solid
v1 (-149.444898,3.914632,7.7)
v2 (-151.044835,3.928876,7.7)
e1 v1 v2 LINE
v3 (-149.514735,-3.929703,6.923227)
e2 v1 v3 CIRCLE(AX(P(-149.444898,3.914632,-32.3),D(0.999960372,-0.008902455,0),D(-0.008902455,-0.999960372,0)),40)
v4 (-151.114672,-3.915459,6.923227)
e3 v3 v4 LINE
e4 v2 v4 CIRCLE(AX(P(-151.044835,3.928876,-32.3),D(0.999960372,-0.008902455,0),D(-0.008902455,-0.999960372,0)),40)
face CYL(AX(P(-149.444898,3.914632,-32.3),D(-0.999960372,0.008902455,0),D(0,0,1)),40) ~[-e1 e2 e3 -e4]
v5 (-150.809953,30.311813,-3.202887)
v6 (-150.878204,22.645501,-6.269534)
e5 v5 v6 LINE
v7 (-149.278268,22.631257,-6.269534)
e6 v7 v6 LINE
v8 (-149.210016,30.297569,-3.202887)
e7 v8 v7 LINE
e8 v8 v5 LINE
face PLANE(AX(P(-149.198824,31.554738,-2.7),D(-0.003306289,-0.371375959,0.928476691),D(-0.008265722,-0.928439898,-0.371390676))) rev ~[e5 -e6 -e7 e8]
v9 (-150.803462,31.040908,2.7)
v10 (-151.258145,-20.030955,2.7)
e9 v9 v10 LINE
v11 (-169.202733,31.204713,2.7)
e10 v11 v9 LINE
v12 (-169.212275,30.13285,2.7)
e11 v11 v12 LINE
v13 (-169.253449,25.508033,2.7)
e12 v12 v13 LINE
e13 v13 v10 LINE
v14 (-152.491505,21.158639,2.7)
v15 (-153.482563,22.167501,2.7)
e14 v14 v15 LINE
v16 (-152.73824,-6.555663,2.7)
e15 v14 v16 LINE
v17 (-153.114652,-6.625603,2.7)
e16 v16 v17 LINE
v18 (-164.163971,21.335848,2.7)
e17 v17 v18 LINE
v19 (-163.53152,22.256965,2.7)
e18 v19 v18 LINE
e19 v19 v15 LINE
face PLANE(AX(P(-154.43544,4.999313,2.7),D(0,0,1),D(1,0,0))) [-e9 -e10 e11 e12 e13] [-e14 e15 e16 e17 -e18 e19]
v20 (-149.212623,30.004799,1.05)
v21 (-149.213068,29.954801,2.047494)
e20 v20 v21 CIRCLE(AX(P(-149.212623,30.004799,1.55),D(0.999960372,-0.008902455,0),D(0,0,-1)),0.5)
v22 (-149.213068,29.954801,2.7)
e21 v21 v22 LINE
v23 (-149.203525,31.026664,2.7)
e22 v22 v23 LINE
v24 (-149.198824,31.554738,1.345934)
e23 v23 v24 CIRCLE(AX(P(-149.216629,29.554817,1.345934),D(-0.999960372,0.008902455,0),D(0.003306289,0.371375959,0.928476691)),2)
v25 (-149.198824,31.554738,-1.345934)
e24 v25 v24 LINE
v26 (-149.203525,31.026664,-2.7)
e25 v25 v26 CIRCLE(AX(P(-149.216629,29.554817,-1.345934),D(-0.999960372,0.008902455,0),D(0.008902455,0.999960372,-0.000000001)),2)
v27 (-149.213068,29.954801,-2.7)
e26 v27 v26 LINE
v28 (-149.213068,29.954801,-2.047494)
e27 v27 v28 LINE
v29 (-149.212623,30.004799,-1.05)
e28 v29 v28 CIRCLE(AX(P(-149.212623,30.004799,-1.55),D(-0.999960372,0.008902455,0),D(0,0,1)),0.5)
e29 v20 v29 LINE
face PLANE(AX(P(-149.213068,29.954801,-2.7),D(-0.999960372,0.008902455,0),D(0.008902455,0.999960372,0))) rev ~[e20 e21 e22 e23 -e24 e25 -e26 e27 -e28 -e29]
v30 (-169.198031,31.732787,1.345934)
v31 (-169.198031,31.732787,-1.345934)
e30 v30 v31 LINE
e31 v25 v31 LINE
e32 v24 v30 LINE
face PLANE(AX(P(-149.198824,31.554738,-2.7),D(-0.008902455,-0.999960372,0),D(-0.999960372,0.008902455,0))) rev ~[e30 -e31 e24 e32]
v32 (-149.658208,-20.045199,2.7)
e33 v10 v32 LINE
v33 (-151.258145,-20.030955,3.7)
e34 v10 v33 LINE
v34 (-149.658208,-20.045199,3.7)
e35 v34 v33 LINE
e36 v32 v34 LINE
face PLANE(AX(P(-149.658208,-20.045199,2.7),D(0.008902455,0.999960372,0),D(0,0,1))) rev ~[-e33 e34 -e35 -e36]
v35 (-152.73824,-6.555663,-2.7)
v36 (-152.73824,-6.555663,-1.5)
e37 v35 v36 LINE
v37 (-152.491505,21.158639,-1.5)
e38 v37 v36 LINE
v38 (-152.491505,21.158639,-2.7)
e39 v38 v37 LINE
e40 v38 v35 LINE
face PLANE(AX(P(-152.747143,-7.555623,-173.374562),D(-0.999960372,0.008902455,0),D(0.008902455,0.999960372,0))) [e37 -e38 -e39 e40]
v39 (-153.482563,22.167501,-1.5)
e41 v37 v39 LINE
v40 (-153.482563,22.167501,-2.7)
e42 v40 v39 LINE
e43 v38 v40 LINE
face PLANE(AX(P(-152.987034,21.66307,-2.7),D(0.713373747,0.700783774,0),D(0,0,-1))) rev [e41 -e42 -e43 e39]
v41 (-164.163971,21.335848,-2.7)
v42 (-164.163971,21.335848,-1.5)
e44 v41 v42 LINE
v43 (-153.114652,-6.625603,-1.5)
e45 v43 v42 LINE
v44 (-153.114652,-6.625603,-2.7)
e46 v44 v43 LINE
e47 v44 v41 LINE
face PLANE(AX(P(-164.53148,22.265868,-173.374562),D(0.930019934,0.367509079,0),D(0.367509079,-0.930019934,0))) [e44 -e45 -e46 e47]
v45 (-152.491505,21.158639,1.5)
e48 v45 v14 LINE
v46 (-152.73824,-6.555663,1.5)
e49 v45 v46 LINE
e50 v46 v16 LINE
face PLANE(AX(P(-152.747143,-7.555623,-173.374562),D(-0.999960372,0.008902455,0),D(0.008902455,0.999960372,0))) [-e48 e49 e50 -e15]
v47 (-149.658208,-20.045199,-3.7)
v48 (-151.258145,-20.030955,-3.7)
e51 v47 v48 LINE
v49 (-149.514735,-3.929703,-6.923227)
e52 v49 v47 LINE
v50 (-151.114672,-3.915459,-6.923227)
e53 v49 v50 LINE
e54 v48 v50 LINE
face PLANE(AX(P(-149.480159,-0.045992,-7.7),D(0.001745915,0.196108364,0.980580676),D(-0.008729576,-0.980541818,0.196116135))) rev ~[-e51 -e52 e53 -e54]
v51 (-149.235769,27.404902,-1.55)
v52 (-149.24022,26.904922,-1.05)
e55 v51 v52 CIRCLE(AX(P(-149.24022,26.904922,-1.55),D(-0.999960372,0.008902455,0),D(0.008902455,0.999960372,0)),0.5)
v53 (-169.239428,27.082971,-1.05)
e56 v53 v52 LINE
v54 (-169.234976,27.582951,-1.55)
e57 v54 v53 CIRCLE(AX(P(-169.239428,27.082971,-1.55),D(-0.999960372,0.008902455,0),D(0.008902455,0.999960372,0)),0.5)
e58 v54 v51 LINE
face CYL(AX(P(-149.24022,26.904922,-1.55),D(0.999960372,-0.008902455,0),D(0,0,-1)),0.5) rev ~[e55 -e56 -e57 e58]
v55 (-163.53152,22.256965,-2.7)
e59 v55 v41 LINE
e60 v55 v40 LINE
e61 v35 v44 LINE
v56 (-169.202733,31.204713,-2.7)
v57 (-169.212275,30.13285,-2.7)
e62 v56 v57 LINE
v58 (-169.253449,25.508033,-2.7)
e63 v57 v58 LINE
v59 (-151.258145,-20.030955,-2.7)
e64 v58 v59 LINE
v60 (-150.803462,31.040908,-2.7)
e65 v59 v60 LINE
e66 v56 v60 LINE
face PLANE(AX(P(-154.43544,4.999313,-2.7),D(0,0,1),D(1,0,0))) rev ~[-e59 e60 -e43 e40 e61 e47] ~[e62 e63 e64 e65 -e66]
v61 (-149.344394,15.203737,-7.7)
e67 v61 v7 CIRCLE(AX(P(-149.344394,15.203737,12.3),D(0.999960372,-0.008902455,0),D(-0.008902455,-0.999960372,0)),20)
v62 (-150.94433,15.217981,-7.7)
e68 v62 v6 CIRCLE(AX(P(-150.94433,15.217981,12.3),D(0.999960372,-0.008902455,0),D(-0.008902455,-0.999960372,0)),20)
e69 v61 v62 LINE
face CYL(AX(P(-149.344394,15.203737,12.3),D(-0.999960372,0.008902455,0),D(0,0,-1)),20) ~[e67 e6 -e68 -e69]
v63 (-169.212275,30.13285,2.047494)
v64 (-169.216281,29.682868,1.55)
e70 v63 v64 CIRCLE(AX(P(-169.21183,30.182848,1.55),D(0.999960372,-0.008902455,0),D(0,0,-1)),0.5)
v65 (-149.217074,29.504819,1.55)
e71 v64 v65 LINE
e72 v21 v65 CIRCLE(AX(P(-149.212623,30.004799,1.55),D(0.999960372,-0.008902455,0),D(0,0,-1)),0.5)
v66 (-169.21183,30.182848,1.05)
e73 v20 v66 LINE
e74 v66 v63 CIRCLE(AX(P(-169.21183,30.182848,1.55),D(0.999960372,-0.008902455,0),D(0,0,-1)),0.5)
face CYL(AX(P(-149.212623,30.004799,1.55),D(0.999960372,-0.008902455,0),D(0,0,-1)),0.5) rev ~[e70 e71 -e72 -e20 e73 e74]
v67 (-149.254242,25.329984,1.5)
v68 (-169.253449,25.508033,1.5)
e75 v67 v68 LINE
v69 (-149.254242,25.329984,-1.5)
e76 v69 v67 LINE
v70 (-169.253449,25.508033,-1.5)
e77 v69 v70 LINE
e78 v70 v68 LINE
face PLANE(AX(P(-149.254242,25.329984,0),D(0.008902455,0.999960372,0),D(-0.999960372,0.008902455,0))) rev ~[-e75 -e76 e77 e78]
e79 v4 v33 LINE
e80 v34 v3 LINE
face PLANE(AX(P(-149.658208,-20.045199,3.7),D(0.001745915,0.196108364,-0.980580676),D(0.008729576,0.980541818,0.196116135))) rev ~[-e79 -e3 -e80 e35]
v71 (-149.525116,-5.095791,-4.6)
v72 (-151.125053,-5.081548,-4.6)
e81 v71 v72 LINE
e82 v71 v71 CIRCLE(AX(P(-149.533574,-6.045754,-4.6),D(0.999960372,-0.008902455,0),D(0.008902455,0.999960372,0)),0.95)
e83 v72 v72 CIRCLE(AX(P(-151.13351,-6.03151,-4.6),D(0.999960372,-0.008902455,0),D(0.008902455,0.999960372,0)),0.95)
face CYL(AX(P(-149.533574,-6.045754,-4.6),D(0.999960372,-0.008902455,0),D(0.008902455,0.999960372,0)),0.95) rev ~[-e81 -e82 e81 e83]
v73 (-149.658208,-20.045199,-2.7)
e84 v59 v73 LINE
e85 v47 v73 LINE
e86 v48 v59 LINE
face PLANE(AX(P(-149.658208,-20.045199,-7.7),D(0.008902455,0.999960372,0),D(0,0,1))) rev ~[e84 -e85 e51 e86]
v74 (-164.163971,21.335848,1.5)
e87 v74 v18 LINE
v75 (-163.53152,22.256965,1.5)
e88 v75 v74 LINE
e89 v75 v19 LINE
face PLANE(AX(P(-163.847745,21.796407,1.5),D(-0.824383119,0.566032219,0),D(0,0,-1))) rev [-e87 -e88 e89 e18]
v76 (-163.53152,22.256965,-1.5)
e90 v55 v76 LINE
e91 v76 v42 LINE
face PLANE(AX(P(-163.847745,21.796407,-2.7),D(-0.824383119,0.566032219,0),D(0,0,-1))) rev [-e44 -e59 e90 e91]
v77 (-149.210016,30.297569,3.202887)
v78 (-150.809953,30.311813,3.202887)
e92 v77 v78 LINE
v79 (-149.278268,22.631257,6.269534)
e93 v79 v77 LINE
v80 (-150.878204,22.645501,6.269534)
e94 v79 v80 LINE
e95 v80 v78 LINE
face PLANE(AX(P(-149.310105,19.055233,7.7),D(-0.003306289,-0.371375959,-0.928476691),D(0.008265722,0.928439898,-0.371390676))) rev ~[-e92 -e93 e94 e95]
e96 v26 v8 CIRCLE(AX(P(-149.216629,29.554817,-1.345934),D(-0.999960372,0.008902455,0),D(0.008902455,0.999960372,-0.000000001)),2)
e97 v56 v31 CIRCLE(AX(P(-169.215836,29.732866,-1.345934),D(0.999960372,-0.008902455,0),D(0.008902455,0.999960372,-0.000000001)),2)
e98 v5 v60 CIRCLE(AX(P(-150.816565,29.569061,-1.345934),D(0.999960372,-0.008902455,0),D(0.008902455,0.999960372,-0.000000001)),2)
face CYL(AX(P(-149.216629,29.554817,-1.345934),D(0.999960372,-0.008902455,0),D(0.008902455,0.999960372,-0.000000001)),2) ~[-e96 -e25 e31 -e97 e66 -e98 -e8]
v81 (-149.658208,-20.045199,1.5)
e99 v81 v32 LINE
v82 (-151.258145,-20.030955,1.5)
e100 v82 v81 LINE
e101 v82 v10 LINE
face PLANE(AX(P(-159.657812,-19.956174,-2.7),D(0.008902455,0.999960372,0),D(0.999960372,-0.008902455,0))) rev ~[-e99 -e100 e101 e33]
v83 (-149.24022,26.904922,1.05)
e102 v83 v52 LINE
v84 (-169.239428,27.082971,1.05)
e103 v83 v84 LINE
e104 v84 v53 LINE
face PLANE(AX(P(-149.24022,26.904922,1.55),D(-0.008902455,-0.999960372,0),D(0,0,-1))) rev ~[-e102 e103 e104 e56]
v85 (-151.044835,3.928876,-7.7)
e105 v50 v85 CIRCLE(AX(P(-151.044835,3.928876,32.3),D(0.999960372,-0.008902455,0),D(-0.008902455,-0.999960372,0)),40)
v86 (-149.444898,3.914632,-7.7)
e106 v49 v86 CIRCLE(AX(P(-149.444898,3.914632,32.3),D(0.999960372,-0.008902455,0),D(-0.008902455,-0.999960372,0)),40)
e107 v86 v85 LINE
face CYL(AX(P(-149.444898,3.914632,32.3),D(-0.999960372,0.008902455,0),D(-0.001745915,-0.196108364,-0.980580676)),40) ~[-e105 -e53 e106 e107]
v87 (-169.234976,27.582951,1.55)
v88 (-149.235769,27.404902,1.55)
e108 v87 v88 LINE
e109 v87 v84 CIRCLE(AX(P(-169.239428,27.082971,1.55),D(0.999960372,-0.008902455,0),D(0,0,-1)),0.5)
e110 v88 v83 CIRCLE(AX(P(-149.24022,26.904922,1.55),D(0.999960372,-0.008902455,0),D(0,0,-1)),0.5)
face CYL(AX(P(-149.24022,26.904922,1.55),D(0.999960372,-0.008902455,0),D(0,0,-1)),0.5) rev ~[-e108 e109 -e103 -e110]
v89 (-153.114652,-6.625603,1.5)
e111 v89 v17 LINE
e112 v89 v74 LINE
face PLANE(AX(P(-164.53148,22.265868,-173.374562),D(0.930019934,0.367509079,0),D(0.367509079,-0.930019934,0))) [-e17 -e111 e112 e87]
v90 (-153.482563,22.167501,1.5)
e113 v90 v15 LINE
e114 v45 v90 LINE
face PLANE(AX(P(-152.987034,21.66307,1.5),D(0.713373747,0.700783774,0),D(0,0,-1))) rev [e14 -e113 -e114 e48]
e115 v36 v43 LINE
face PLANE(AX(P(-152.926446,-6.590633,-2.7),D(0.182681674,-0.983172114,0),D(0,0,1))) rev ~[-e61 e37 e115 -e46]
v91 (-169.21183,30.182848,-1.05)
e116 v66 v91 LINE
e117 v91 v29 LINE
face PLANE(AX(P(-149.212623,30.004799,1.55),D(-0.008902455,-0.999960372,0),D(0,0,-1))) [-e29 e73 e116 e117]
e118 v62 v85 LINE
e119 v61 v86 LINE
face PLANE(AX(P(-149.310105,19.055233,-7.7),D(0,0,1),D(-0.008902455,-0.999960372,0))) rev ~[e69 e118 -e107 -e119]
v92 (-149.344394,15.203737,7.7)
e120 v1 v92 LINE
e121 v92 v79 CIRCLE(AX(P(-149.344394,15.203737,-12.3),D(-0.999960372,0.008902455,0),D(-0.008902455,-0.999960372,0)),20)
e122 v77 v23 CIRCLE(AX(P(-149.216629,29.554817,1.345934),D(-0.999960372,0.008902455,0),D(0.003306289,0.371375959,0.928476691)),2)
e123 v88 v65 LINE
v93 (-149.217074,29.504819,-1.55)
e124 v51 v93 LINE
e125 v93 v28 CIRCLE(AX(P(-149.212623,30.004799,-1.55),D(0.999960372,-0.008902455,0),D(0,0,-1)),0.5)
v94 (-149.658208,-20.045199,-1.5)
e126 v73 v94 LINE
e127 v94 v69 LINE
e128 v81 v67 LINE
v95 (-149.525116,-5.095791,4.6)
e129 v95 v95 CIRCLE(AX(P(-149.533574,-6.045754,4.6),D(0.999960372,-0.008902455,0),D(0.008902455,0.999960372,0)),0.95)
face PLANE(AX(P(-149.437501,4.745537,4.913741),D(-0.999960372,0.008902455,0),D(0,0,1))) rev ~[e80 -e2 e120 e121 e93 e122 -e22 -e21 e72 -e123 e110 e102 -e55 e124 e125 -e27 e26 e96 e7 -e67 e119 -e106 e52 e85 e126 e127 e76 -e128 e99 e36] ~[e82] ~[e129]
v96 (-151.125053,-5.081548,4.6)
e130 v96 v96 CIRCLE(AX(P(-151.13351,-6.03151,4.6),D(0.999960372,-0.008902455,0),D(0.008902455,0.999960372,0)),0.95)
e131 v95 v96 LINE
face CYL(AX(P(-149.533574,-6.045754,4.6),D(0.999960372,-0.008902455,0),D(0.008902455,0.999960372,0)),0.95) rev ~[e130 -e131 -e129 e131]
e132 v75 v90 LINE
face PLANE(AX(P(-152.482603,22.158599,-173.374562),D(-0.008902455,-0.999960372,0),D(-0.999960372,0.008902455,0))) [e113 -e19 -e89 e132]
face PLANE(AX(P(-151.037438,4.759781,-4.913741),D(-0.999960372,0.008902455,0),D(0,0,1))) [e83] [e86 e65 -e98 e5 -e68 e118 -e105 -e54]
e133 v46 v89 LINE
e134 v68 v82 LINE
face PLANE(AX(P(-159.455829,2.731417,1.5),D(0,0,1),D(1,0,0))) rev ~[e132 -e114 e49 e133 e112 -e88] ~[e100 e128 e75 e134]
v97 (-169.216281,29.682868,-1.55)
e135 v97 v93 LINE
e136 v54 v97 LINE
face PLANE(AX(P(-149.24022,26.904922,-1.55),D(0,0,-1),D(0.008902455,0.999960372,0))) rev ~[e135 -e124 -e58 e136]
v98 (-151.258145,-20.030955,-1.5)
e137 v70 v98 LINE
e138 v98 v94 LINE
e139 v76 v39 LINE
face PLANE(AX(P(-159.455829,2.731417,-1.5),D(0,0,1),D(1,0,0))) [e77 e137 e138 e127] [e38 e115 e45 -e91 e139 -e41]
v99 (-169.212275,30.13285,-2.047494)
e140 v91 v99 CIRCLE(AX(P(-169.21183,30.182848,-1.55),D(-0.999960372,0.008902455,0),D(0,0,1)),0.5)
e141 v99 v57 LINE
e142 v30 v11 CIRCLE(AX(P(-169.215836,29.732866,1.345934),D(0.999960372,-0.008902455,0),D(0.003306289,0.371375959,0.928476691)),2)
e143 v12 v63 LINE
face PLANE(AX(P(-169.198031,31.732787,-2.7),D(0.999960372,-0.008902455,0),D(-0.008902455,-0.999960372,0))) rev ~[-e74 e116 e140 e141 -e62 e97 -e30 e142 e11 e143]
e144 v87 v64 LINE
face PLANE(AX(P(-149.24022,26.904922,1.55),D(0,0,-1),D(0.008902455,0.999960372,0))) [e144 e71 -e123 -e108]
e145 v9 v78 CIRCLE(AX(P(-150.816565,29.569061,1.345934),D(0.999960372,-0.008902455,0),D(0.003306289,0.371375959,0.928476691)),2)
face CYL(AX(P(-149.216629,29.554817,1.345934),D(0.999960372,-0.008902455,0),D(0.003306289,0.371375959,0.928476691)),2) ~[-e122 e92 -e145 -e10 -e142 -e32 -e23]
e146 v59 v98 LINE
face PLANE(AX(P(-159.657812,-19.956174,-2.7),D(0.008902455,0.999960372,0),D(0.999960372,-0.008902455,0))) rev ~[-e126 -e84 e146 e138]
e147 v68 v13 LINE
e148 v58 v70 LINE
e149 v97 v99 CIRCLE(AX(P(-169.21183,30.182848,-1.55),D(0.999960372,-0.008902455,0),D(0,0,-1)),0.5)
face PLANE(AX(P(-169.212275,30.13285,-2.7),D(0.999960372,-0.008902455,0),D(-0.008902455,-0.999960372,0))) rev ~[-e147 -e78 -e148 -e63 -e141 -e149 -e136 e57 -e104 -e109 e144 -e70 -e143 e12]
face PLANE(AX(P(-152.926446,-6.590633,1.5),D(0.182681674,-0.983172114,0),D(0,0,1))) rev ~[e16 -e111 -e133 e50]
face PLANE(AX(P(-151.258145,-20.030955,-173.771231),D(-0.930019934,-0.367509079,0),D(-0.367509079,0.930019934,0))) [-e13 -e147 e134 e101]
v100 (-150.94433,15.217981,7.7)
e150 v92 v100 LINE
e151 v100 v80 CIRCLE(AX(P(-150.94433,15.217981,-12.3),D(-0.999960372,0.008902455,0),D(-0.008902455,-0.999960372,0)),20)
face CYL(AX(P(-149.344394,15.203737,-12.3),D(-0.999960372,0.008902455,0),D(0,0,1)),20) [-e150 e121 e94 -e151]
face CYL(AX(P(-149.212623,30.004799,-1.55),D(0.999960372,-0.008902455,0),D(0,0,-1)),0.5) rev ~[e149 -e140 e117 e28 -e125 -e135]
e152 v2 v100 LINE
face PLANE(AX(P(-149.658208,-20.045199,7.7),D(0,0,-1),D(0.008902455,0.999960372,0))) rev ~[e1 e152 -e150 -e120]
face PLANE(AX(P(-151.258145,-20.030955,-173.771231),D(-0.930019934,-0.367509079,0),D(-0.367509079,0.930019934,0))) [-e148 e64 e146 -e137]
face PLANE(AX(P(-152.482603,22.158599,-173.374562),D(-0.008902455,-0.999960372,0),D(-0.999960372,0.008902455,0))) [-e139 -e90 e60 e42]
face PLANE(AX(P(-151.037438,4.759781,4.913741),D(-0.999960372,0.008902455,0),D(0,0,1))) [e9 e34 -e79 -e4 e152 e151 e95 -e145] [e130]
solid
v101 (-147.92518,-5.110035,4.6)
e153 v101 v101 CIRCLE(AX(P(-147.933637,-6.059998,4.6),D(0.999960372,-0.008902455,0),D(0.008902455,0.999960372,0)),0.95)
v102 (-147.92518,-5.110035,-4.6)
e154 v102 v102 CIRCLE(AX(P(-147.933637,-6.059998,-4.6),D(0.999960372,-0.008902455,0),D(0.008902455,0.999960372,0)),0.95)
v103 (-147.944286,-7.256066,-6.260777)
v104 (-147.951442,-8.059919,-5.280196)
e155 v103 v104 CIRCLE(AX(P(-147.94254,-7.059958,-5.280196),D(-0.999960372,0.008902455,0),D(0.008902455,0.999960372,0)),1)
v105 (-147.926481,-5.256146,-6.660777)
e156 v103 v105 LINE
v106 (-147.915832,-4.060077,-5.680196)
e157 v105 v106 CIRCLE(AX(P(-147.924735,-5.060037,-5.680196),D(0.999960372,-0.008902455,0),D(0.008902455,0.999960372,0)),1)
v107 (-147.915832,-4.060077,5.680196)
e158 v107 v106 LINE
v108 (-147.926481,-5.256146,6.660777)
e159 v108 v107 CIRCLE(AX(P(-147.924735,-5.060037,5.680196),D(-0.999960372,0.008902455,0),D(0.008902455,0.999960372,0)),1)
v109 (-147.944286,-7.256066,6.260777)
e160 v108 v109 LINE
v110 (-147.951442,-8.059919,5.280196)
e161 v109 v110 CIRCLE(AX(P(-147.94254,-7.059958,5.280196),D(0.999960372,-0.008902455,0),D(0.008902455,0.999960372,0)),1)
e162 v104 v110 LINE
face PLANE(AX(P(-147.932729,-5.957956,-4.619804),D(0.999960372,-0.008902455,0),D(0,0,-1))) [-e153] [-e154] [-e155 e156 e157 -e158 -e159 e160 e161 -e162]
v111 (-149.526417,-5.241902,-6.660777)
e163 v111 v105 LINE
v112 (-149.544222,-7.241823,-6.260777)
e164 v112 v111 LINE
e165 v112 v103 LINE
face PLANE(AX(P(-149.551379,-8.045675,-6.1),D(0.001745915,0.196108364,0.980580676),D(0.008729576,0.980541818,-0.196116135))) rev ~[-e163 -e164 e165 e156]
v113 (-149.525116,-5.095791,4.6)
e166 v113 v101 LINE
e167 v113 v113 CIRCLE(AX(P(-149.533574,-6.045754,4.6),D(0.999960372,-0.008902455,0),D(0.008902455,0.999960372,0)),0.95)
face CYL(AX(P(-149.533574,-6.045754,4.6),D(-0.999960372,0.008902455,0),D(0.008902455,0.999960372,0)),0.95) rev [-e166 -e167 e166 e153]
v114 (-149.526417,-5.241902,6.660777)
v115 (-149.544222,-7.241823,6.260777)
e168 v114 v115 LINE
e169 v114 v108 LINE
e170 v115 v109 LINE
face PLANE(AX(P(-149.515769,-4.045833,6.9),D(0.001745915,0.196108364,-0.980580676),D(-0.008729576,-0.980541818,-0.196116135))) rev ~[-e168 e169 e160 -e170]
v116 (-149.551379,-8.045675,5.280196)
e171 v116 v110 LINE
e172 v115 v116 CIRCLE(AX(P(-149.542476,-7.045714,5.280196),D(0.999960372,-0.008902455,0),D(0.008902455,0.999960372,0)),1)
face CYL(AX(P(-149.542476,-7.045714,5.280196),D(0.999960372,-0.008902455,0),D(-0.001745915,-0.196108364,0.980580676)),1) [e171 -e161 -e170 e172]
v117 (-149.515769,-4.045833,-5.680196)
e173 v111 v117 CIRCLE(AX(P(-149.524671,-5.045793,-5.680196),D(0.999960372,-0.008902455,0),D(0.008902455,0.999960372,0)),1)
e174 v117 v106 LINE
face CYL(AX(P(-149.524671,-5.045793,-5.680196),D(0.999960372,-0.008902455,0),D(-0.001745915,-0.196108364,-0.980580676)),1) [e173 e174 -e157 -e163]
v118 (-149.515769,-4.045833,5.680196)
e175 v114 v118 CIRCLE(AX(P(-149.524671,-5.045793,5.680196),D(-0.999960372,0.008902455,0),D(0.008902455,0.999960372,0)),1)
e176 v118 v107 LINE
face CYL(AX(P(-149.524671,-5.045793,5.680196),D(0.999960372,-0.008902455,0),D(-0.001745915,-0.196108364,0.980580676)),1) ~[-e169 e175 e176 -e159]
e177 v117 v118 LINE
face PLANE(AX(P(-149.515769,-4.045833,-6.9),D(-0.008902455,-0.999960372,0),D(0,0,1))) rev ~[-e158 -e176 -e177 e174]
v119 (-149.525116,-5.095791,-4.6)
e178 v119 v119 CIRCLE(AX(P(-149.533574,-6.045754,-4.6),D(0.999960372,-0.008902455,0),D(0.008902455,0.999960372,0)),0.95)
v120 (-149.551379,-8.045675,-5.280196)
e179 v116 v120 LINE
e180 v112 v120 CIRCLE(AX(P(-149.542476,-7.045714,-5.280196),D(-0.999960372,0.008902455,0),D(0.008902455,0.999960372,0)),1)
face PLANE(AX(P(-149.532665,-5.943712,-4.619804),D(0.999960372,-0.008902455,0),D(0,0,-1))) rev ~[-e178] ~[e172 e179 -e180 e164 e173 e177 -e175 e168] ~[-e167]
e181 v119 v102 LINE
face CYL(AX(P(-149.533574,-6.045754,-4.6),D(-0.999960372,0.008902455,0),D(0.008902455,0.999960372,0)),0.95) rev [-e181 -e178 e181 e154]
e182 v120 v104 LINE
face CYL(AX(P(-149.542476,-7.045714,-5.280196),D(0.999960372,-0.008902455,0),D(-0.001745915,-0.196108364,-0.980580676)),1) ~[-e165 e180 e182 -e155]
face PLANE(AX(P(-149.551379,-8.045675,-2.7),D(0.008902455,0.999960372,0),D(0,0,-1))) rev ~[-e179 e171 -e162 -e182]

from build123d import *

# Parameters (mm, degrees)
BOSS_EXTRUDE1_DEPTH      = 1.5
BOSS_EXTRUDE2_DEPTH      = 2.7
BOSS_EXTRUDE2_DEPTH_BACK = 2.7
CUT_EXTRUDE1_DEPTH       = 1.5
BOSS_EXTRUDE3_DEPTH      = 1.6
CUT_EXTRUDE2_DEPTH       = 173.771231485
CUT_EXTRUDE2_DEPTH_BACK  = 173.771231485
CUT_EXTRUDE3_DEPTH       = 1.5
SKETCH9_W                = 3.1
SKETCH9_H                = 3.1
SKETCH9_W_2              = 3
SKETCH9_H_2              = 3
CUT_EXTRUDE4_DEPTH       = 38.081608425
SKETCH10_R               = 0.5
CUT_EXTRUDE5_DEPTH       = 38.081608425
CUT_EXTRUDE6_DEPTH       = 38.081608425
FILLET1_R                = 20
CUT_EXTRUDE7_DEPTH       = 38.081608425
FILLET2_R                = 40
SKETCH14_R               = 0.95
SKETCH14_W               = 1.2
SKETCH14_H               = 4
SKETCH14_W_2             = 3
BOSS_EXTRUDE4_DEPTH      = 1.6
SKETCH15_R               = 0.95
CUT_EXTRUDE8_DEPTH       = 38.081608425
FILLET3_R                = 1
CUT_EXTRUDE9_DEPTH       = 173.374562434
CUT_EXTRUDE9_DEPTH_BACK  = 173.374562434
CHAMFER1_SIZE            = 1


with BuildPart() as part:
    # Sketch3 → Boss-Extrude1 (new, symmetric)
    with BuildSketch(Plane.XY):
        Polygon((-149.213067775, 29.954800958), (-159.212671499, 30.043825512), (-159.65781191, -19.956174488), (-149.658208186, -20.045199042), align=None)
        Polygon((-159.65781191, -19.956174488), (-159.212671499, 30.043825512), (-169.212275222, 30.132850067), (-169.657415633, -19.867149933), align=None)
        Polygon((-149.198823847, 31.554737554), (-169.198031294, 31.732786662), (-169.212275222, 30.132850067), (-149.213067775, 29.954800958), align=None)
    extrude(amount=BOSS_EXTRUDE1_DEPTH, both=True)

    # Sketch4 → Boss-Extrude2 (add, two sides: drawn at the far end of the back side and taken through both)
    with BuildSketch(Plane.XY.offset(-BOSS_EXTRUDE2_DEPTH_BACK)):
        Polygon((-149.213067775, 29.954800958), (-159.212671499, 30.043825512), (-159.65781191, -19.956174488), (-149.658208186, -20.045199042), align=None)
        Polygon((-159.212671499, 30.043825512), (-169.212275222, 30.132850067), (-169.657415633, -19.867149933), (-159.65781191, -19.956174488), align=None)
        Polygon((-149.198823847, 31.554737554), (-169.198031294, 31.732786662), (-169.212275222, 30.132850067), (-149.213067775, 29.954800958), align=None)
    extrude(amount=BOSS_EXTRUDE2_DEPTH + BOSS_EXTRUDE2_DEPTH_BACK)

    # Sketch5 → Cut-Extrude1 (cut, symmetric)
    with BuildSketch(Plane.XY):
        Polygon((-149.658208186, -20.045199042), (-149.254241632, 25.329984236), (-169.253449079, 25.508033344), (-169.657415633, -19.867149933), align=None)
    extrude(amount=CUT_EXTRUDE1_DEPTH, both=True, mode=Mode.SUBTRACT)

    # Sketch6 → Boss-Extrude3 (add)
    with BuildSketch(Plane(origin=(-149.467902798, 1.330684074, 0), x_dir=(0, 0, -1), z_dir=(0.999960372358546, -0.00890245542299091, 0))):
        Polygon((-2.7, 30.225251236), (-2.7, -21.376730225), (-7.7, -21.376730225), (-7.7, 17.725251236), align=None)
        Polygon((2.7, -21.376730225), (2.7, 30.225251236), (7.7, 17.725251236), (7.7, -21.376730225), align=None)
    extrude(amount=-BOSS_EXTRUDE3_DEPTH)

    # Sketch7 → Cut-Extrude2 (cut, two sides: drawn at the far end of the back side and taken through both)
    with BuildSketch(Plane.XY.offset(-CUT_EXTRUDE2_DEPTH_BACK)):
        Polygon((-151.258144782, -20.030955113), (-169.253449079, 25.508033344), (-169.657415633, -19.867149933), align=None)
    extrude(amount=CUT_EXTRUDE2_DEPTH + CUT_EXTRUDE2_DEPTH_BACK, mode=Mode.SUBTRACT)

    # Sketch8 → Cut-Extrude3 (cut, symmetric)
    with BuildSketch(Plane.XY):
        Polygon((-371.727094297, 31.935800663), (-371.753801663, 28.935919545), (-39.244134182, 25.975649744), (-39.217426816, 28.975530862), align=None)
    extrude(amount=CUT_EXTRUDE3_DEPTH, both=True, mode=Mode.SUBTRACT)

    # Sketch9 → Cut-Extrude4 (cut, through all)
    with BuildSketch(Plane(origin=(-149.467902798, 1.330684074, 0), x_dir=(0, 0, -1), z_dir=(0.999960372358546, -0.00890245542299091, 0))):
        with Locations((0, 27.125251236)):
            Rectangle(SKETCH9_W, SKETCH9_H)
        with Locations((0, 27.125251236)):
            Rectangle(SKETCH9_W_2, SKETCH9_H_2, mode=Mode.SUBTRACT)
    extrude(amount=-CUT_EXTRUDE4_DEPTH, mode=Mode.SUBTRACT)

    # Sketch10 → Cut-Extrude5 (cut, through all)
    with BuildSketch(Plane(origin=(-149.467902798, 1.330684074, 0), x_dir=(0, 0, -1), z_dir=(0.999960372358546, -0.00890245542299091, 0))):
        with Locations((-1.55, 25.575251236)):
            Circle(SKETCH10_R)
        with Locations((1.55, 25.575251236)):
            Circle(SKETCH10_R)
        with Locations((-1.55, 28.675251236)):
            Circle(SKETCH10_R)
        with Locations((1.55, 28.675251236)):
            Circle(SKETCH10_R)
    extrude(amount=-CUT_EXTRUDE5_DEPTH, mode=Mode.SUBTRACT)

    # Sketch12 → Cut-Extrude6 (cut, through all)
    with BuildSketch(Plane(origin=(-149.467902798, 1.330684074, 0), x_dir=(0, 0, -1), z_dir=(0.999960372358546, -0.00890245542299091, 0))):
        with BuildLine():
            Line((-2.7, 30.225251236), (-3.202887459, 28.968032588))
            ThreePointArc((-3.202887459, 28.968032588), (-2.467191696, 29.881385696), (-1.345934077, 30.225251236))
            Line((-1.345934077, 30.225251236), (-2.7, 30.225251236))
        make_face()
        with BuildLine():
            ThreePointArc((1.345934077, 30.225251236), (2.467191696, 29.881385696), (3.202887459, 28.968032588))
            Line((3.202887459, 28.968032588), (2.7, 30.225251236))
            Line((2.7, 30.225251236), (1.345934077, 30.225251236))
        make_face()
    extrude(amount=-CUT_EXTRUDE6_DEPTH, mode=Mode.SUBTRACT)

    # Fillet1
    fillet1_edges = [part.edges().sort_by_distance(p)[0] for p in [
        (-150.110072837, 19.062354864, 7.7),
        (-150.110072837, 19.062354864, -7.7),
    ]]
    fillet(fillet1_edges, radius=FILLET1_R)

    # Sketch13 → Cut-Extrude7 (cut, through all)
    with BuildSketch(Plane(origin=(-149.467902798, 1.330684074, 0), x_dir=(0, 0, -1), z_dir=(0.999960372358546, -0.00890245542299091, 0))):
        Polygon((-7.7, -1.376730225), (-7.7, -21.376730225), (-3.7, -21.376730225), align=None)
        Polygon((7.7, -21.376730225), (7.7, -1.376730225), (3.7, -21.376730225), align=None)
    extrude(amount=-CUT_EXTRUDE7_DEPTH, mode=Mode.SUBTRACT)

    # Fillet2
    fillet2_edges = [part.edges().sort_by_distance(p)[0] for p in [
        (-150.280127376, -0.03886963, -7.7),
        (-150.280127376, -0.03886963, 7.7),
    ]]
    fillet(fillet2_edges, radius=FILLET2_R)

    # Sketch15 → Cut-Extrude8 (cut, through all)
    with BuildSketch(Plane(origin=(-149.467902798, 1.330684074, 0), x_dir=(0, 0, -1), z_dir=(0.999960372358546, -0.00890245542299091, 0))):
        with Locations(Location((-4.6, -7.376730225, 0), (0, 0, 90))):
            Circle(SKETCH15_R)
        with Locations(Location((4.6, -7.376730225, 0), (0, 0, 90))):
            Circle(SKETCH15_R)
    extrude(amount=-CUT_EXTRUDE8_DEPTH, mode=Mode.SUBTRACT)

    # Sketch16 → Cut-Extrude9 (cut, two sides: drawn at the far end of the back side and taken through both)
    with BuildSketch(Plane.XY.offset(-CUT_EXTRUDE9_DEPTH_BACK)):
        Polygon((-164.531480082, 22.265867746), (-152.747142701, -7.555623189), (-152.48260268, 22.158598902), align=None)
    extrude(amount=CUT_EXTRUDE9_DEPTH + CUT_EXTRUDE9_DEPTH_BACK, mode=Mode.SUBTRACT)

    # Chamfer1
    chamfer1_edges = [part.edges().sort_by_distance(p)[0] for p in [
        (-152.747142701, -7.555623189, -2.1),
        (-152.747142701, -7.555623189, 2.1),
        (-164.531480082, 22.265867746, -2.1),
        (-164.531480082, 22.265867746, 2.1),
        (-152.48260268, 22.158598902, -2.1),
        (-152.48260268, 22.158598902, 2.1),
    ]]
    chamfer(chamfer1_edges, length=CHAMFER1_SIZE)


with BuildPart() as body_2:
    # Sketch14 → Boss-Extrude4 (new body)
    # profile 1 of 5: a face of its own
    with BuildSketch(Plane(origin=(-149.467902798, 1.330684074, 0), x_dir=(0, 0, -1), z_dir=(0.999960372358546, -0.00890245542299091, 0))):
        Polygon((-2.7, -9.376730225), (-2.7, -5.376730225), (-6.9, -5.376730225), (-6.1, -9.376730225), align=None)
        with Locations(Location((-4.6, -7.376730225, 0), (0, 0, 90))):
            Circle(SKETCH14_R, mode=Mode.SUBTRACT)
    # profile 2 of 5: a face of its own
    with BuildSketch(Plane(origin=(-149.467902798, 1.330684074, 0), x_dir=(0, 0, -1), z_dir=(0.999960372358546, -0.00890245542299091, 0))):
        with Locations((-2.1, -7.376730225)):
            Rectangle(SKETCH14_W, SKETCH14_H)
    # profile 3 of 5: a face of its own
    with BuildSketch(Plane(origin=(-149.467902798, 1.330684074, 0), x_dir=(0, 0, -1), z_dir=(0.999960372358546, -0.00890245542299091, 0))):
        with Locations((0, -7.376730225)):
            Rectangle(SKETCH14_W_2, SKETCH14_H)
    # profile 4 of 5: a face of its own
    with BuildSketch(Plane(origin=(-149.467902798, 1.330684074, 0), x_dir=(0, 0, -1), z_dir=(0.999960372358546, -0.00890245542299091, 0))):
        with Locations((2.1, -7.376730225)):
            Rectangle(SKETCH14_W, SKETCH14_H)
    # profile 5 of 5: a face of its own
    with BuildSketch(Plane(origin=(-149.467902798, 1.330684074, 0), x_dir=(0, 0, -1), z_dir=(0.999960372358546, -0.00890245542299091, 0))):
        Polygon((6.1, -9.376730225), (6.9, -5.376730225), (2.7, -5.376730225), (2.7, -9.376730225), align=None)
        with Locations(Location((4.6, -7.376730225, 0), (0, 0, 90))):
            Circle(SKETCH14_R, mode=Mode.SUBTRACT)
    extrude(amount=BOSS_EXTRUDE4_DEPTH)

    # Fillet3
    fillet3_edges = [body_2.edges().sort_by_distance(p)[0] for p in [
        (-148.715800602, -4.052955049, -6.9),
        (-148.751410423, -8.052796538, -6.1),
        (-148.751410423, -8.052796538, 6.1),
        (-148.715800602, -4.052955049, 6.9),
    ]]
    fillet(fillet3_edges, radius=FILLET3_R)


solid = Compound([part.part, body_2.part])
